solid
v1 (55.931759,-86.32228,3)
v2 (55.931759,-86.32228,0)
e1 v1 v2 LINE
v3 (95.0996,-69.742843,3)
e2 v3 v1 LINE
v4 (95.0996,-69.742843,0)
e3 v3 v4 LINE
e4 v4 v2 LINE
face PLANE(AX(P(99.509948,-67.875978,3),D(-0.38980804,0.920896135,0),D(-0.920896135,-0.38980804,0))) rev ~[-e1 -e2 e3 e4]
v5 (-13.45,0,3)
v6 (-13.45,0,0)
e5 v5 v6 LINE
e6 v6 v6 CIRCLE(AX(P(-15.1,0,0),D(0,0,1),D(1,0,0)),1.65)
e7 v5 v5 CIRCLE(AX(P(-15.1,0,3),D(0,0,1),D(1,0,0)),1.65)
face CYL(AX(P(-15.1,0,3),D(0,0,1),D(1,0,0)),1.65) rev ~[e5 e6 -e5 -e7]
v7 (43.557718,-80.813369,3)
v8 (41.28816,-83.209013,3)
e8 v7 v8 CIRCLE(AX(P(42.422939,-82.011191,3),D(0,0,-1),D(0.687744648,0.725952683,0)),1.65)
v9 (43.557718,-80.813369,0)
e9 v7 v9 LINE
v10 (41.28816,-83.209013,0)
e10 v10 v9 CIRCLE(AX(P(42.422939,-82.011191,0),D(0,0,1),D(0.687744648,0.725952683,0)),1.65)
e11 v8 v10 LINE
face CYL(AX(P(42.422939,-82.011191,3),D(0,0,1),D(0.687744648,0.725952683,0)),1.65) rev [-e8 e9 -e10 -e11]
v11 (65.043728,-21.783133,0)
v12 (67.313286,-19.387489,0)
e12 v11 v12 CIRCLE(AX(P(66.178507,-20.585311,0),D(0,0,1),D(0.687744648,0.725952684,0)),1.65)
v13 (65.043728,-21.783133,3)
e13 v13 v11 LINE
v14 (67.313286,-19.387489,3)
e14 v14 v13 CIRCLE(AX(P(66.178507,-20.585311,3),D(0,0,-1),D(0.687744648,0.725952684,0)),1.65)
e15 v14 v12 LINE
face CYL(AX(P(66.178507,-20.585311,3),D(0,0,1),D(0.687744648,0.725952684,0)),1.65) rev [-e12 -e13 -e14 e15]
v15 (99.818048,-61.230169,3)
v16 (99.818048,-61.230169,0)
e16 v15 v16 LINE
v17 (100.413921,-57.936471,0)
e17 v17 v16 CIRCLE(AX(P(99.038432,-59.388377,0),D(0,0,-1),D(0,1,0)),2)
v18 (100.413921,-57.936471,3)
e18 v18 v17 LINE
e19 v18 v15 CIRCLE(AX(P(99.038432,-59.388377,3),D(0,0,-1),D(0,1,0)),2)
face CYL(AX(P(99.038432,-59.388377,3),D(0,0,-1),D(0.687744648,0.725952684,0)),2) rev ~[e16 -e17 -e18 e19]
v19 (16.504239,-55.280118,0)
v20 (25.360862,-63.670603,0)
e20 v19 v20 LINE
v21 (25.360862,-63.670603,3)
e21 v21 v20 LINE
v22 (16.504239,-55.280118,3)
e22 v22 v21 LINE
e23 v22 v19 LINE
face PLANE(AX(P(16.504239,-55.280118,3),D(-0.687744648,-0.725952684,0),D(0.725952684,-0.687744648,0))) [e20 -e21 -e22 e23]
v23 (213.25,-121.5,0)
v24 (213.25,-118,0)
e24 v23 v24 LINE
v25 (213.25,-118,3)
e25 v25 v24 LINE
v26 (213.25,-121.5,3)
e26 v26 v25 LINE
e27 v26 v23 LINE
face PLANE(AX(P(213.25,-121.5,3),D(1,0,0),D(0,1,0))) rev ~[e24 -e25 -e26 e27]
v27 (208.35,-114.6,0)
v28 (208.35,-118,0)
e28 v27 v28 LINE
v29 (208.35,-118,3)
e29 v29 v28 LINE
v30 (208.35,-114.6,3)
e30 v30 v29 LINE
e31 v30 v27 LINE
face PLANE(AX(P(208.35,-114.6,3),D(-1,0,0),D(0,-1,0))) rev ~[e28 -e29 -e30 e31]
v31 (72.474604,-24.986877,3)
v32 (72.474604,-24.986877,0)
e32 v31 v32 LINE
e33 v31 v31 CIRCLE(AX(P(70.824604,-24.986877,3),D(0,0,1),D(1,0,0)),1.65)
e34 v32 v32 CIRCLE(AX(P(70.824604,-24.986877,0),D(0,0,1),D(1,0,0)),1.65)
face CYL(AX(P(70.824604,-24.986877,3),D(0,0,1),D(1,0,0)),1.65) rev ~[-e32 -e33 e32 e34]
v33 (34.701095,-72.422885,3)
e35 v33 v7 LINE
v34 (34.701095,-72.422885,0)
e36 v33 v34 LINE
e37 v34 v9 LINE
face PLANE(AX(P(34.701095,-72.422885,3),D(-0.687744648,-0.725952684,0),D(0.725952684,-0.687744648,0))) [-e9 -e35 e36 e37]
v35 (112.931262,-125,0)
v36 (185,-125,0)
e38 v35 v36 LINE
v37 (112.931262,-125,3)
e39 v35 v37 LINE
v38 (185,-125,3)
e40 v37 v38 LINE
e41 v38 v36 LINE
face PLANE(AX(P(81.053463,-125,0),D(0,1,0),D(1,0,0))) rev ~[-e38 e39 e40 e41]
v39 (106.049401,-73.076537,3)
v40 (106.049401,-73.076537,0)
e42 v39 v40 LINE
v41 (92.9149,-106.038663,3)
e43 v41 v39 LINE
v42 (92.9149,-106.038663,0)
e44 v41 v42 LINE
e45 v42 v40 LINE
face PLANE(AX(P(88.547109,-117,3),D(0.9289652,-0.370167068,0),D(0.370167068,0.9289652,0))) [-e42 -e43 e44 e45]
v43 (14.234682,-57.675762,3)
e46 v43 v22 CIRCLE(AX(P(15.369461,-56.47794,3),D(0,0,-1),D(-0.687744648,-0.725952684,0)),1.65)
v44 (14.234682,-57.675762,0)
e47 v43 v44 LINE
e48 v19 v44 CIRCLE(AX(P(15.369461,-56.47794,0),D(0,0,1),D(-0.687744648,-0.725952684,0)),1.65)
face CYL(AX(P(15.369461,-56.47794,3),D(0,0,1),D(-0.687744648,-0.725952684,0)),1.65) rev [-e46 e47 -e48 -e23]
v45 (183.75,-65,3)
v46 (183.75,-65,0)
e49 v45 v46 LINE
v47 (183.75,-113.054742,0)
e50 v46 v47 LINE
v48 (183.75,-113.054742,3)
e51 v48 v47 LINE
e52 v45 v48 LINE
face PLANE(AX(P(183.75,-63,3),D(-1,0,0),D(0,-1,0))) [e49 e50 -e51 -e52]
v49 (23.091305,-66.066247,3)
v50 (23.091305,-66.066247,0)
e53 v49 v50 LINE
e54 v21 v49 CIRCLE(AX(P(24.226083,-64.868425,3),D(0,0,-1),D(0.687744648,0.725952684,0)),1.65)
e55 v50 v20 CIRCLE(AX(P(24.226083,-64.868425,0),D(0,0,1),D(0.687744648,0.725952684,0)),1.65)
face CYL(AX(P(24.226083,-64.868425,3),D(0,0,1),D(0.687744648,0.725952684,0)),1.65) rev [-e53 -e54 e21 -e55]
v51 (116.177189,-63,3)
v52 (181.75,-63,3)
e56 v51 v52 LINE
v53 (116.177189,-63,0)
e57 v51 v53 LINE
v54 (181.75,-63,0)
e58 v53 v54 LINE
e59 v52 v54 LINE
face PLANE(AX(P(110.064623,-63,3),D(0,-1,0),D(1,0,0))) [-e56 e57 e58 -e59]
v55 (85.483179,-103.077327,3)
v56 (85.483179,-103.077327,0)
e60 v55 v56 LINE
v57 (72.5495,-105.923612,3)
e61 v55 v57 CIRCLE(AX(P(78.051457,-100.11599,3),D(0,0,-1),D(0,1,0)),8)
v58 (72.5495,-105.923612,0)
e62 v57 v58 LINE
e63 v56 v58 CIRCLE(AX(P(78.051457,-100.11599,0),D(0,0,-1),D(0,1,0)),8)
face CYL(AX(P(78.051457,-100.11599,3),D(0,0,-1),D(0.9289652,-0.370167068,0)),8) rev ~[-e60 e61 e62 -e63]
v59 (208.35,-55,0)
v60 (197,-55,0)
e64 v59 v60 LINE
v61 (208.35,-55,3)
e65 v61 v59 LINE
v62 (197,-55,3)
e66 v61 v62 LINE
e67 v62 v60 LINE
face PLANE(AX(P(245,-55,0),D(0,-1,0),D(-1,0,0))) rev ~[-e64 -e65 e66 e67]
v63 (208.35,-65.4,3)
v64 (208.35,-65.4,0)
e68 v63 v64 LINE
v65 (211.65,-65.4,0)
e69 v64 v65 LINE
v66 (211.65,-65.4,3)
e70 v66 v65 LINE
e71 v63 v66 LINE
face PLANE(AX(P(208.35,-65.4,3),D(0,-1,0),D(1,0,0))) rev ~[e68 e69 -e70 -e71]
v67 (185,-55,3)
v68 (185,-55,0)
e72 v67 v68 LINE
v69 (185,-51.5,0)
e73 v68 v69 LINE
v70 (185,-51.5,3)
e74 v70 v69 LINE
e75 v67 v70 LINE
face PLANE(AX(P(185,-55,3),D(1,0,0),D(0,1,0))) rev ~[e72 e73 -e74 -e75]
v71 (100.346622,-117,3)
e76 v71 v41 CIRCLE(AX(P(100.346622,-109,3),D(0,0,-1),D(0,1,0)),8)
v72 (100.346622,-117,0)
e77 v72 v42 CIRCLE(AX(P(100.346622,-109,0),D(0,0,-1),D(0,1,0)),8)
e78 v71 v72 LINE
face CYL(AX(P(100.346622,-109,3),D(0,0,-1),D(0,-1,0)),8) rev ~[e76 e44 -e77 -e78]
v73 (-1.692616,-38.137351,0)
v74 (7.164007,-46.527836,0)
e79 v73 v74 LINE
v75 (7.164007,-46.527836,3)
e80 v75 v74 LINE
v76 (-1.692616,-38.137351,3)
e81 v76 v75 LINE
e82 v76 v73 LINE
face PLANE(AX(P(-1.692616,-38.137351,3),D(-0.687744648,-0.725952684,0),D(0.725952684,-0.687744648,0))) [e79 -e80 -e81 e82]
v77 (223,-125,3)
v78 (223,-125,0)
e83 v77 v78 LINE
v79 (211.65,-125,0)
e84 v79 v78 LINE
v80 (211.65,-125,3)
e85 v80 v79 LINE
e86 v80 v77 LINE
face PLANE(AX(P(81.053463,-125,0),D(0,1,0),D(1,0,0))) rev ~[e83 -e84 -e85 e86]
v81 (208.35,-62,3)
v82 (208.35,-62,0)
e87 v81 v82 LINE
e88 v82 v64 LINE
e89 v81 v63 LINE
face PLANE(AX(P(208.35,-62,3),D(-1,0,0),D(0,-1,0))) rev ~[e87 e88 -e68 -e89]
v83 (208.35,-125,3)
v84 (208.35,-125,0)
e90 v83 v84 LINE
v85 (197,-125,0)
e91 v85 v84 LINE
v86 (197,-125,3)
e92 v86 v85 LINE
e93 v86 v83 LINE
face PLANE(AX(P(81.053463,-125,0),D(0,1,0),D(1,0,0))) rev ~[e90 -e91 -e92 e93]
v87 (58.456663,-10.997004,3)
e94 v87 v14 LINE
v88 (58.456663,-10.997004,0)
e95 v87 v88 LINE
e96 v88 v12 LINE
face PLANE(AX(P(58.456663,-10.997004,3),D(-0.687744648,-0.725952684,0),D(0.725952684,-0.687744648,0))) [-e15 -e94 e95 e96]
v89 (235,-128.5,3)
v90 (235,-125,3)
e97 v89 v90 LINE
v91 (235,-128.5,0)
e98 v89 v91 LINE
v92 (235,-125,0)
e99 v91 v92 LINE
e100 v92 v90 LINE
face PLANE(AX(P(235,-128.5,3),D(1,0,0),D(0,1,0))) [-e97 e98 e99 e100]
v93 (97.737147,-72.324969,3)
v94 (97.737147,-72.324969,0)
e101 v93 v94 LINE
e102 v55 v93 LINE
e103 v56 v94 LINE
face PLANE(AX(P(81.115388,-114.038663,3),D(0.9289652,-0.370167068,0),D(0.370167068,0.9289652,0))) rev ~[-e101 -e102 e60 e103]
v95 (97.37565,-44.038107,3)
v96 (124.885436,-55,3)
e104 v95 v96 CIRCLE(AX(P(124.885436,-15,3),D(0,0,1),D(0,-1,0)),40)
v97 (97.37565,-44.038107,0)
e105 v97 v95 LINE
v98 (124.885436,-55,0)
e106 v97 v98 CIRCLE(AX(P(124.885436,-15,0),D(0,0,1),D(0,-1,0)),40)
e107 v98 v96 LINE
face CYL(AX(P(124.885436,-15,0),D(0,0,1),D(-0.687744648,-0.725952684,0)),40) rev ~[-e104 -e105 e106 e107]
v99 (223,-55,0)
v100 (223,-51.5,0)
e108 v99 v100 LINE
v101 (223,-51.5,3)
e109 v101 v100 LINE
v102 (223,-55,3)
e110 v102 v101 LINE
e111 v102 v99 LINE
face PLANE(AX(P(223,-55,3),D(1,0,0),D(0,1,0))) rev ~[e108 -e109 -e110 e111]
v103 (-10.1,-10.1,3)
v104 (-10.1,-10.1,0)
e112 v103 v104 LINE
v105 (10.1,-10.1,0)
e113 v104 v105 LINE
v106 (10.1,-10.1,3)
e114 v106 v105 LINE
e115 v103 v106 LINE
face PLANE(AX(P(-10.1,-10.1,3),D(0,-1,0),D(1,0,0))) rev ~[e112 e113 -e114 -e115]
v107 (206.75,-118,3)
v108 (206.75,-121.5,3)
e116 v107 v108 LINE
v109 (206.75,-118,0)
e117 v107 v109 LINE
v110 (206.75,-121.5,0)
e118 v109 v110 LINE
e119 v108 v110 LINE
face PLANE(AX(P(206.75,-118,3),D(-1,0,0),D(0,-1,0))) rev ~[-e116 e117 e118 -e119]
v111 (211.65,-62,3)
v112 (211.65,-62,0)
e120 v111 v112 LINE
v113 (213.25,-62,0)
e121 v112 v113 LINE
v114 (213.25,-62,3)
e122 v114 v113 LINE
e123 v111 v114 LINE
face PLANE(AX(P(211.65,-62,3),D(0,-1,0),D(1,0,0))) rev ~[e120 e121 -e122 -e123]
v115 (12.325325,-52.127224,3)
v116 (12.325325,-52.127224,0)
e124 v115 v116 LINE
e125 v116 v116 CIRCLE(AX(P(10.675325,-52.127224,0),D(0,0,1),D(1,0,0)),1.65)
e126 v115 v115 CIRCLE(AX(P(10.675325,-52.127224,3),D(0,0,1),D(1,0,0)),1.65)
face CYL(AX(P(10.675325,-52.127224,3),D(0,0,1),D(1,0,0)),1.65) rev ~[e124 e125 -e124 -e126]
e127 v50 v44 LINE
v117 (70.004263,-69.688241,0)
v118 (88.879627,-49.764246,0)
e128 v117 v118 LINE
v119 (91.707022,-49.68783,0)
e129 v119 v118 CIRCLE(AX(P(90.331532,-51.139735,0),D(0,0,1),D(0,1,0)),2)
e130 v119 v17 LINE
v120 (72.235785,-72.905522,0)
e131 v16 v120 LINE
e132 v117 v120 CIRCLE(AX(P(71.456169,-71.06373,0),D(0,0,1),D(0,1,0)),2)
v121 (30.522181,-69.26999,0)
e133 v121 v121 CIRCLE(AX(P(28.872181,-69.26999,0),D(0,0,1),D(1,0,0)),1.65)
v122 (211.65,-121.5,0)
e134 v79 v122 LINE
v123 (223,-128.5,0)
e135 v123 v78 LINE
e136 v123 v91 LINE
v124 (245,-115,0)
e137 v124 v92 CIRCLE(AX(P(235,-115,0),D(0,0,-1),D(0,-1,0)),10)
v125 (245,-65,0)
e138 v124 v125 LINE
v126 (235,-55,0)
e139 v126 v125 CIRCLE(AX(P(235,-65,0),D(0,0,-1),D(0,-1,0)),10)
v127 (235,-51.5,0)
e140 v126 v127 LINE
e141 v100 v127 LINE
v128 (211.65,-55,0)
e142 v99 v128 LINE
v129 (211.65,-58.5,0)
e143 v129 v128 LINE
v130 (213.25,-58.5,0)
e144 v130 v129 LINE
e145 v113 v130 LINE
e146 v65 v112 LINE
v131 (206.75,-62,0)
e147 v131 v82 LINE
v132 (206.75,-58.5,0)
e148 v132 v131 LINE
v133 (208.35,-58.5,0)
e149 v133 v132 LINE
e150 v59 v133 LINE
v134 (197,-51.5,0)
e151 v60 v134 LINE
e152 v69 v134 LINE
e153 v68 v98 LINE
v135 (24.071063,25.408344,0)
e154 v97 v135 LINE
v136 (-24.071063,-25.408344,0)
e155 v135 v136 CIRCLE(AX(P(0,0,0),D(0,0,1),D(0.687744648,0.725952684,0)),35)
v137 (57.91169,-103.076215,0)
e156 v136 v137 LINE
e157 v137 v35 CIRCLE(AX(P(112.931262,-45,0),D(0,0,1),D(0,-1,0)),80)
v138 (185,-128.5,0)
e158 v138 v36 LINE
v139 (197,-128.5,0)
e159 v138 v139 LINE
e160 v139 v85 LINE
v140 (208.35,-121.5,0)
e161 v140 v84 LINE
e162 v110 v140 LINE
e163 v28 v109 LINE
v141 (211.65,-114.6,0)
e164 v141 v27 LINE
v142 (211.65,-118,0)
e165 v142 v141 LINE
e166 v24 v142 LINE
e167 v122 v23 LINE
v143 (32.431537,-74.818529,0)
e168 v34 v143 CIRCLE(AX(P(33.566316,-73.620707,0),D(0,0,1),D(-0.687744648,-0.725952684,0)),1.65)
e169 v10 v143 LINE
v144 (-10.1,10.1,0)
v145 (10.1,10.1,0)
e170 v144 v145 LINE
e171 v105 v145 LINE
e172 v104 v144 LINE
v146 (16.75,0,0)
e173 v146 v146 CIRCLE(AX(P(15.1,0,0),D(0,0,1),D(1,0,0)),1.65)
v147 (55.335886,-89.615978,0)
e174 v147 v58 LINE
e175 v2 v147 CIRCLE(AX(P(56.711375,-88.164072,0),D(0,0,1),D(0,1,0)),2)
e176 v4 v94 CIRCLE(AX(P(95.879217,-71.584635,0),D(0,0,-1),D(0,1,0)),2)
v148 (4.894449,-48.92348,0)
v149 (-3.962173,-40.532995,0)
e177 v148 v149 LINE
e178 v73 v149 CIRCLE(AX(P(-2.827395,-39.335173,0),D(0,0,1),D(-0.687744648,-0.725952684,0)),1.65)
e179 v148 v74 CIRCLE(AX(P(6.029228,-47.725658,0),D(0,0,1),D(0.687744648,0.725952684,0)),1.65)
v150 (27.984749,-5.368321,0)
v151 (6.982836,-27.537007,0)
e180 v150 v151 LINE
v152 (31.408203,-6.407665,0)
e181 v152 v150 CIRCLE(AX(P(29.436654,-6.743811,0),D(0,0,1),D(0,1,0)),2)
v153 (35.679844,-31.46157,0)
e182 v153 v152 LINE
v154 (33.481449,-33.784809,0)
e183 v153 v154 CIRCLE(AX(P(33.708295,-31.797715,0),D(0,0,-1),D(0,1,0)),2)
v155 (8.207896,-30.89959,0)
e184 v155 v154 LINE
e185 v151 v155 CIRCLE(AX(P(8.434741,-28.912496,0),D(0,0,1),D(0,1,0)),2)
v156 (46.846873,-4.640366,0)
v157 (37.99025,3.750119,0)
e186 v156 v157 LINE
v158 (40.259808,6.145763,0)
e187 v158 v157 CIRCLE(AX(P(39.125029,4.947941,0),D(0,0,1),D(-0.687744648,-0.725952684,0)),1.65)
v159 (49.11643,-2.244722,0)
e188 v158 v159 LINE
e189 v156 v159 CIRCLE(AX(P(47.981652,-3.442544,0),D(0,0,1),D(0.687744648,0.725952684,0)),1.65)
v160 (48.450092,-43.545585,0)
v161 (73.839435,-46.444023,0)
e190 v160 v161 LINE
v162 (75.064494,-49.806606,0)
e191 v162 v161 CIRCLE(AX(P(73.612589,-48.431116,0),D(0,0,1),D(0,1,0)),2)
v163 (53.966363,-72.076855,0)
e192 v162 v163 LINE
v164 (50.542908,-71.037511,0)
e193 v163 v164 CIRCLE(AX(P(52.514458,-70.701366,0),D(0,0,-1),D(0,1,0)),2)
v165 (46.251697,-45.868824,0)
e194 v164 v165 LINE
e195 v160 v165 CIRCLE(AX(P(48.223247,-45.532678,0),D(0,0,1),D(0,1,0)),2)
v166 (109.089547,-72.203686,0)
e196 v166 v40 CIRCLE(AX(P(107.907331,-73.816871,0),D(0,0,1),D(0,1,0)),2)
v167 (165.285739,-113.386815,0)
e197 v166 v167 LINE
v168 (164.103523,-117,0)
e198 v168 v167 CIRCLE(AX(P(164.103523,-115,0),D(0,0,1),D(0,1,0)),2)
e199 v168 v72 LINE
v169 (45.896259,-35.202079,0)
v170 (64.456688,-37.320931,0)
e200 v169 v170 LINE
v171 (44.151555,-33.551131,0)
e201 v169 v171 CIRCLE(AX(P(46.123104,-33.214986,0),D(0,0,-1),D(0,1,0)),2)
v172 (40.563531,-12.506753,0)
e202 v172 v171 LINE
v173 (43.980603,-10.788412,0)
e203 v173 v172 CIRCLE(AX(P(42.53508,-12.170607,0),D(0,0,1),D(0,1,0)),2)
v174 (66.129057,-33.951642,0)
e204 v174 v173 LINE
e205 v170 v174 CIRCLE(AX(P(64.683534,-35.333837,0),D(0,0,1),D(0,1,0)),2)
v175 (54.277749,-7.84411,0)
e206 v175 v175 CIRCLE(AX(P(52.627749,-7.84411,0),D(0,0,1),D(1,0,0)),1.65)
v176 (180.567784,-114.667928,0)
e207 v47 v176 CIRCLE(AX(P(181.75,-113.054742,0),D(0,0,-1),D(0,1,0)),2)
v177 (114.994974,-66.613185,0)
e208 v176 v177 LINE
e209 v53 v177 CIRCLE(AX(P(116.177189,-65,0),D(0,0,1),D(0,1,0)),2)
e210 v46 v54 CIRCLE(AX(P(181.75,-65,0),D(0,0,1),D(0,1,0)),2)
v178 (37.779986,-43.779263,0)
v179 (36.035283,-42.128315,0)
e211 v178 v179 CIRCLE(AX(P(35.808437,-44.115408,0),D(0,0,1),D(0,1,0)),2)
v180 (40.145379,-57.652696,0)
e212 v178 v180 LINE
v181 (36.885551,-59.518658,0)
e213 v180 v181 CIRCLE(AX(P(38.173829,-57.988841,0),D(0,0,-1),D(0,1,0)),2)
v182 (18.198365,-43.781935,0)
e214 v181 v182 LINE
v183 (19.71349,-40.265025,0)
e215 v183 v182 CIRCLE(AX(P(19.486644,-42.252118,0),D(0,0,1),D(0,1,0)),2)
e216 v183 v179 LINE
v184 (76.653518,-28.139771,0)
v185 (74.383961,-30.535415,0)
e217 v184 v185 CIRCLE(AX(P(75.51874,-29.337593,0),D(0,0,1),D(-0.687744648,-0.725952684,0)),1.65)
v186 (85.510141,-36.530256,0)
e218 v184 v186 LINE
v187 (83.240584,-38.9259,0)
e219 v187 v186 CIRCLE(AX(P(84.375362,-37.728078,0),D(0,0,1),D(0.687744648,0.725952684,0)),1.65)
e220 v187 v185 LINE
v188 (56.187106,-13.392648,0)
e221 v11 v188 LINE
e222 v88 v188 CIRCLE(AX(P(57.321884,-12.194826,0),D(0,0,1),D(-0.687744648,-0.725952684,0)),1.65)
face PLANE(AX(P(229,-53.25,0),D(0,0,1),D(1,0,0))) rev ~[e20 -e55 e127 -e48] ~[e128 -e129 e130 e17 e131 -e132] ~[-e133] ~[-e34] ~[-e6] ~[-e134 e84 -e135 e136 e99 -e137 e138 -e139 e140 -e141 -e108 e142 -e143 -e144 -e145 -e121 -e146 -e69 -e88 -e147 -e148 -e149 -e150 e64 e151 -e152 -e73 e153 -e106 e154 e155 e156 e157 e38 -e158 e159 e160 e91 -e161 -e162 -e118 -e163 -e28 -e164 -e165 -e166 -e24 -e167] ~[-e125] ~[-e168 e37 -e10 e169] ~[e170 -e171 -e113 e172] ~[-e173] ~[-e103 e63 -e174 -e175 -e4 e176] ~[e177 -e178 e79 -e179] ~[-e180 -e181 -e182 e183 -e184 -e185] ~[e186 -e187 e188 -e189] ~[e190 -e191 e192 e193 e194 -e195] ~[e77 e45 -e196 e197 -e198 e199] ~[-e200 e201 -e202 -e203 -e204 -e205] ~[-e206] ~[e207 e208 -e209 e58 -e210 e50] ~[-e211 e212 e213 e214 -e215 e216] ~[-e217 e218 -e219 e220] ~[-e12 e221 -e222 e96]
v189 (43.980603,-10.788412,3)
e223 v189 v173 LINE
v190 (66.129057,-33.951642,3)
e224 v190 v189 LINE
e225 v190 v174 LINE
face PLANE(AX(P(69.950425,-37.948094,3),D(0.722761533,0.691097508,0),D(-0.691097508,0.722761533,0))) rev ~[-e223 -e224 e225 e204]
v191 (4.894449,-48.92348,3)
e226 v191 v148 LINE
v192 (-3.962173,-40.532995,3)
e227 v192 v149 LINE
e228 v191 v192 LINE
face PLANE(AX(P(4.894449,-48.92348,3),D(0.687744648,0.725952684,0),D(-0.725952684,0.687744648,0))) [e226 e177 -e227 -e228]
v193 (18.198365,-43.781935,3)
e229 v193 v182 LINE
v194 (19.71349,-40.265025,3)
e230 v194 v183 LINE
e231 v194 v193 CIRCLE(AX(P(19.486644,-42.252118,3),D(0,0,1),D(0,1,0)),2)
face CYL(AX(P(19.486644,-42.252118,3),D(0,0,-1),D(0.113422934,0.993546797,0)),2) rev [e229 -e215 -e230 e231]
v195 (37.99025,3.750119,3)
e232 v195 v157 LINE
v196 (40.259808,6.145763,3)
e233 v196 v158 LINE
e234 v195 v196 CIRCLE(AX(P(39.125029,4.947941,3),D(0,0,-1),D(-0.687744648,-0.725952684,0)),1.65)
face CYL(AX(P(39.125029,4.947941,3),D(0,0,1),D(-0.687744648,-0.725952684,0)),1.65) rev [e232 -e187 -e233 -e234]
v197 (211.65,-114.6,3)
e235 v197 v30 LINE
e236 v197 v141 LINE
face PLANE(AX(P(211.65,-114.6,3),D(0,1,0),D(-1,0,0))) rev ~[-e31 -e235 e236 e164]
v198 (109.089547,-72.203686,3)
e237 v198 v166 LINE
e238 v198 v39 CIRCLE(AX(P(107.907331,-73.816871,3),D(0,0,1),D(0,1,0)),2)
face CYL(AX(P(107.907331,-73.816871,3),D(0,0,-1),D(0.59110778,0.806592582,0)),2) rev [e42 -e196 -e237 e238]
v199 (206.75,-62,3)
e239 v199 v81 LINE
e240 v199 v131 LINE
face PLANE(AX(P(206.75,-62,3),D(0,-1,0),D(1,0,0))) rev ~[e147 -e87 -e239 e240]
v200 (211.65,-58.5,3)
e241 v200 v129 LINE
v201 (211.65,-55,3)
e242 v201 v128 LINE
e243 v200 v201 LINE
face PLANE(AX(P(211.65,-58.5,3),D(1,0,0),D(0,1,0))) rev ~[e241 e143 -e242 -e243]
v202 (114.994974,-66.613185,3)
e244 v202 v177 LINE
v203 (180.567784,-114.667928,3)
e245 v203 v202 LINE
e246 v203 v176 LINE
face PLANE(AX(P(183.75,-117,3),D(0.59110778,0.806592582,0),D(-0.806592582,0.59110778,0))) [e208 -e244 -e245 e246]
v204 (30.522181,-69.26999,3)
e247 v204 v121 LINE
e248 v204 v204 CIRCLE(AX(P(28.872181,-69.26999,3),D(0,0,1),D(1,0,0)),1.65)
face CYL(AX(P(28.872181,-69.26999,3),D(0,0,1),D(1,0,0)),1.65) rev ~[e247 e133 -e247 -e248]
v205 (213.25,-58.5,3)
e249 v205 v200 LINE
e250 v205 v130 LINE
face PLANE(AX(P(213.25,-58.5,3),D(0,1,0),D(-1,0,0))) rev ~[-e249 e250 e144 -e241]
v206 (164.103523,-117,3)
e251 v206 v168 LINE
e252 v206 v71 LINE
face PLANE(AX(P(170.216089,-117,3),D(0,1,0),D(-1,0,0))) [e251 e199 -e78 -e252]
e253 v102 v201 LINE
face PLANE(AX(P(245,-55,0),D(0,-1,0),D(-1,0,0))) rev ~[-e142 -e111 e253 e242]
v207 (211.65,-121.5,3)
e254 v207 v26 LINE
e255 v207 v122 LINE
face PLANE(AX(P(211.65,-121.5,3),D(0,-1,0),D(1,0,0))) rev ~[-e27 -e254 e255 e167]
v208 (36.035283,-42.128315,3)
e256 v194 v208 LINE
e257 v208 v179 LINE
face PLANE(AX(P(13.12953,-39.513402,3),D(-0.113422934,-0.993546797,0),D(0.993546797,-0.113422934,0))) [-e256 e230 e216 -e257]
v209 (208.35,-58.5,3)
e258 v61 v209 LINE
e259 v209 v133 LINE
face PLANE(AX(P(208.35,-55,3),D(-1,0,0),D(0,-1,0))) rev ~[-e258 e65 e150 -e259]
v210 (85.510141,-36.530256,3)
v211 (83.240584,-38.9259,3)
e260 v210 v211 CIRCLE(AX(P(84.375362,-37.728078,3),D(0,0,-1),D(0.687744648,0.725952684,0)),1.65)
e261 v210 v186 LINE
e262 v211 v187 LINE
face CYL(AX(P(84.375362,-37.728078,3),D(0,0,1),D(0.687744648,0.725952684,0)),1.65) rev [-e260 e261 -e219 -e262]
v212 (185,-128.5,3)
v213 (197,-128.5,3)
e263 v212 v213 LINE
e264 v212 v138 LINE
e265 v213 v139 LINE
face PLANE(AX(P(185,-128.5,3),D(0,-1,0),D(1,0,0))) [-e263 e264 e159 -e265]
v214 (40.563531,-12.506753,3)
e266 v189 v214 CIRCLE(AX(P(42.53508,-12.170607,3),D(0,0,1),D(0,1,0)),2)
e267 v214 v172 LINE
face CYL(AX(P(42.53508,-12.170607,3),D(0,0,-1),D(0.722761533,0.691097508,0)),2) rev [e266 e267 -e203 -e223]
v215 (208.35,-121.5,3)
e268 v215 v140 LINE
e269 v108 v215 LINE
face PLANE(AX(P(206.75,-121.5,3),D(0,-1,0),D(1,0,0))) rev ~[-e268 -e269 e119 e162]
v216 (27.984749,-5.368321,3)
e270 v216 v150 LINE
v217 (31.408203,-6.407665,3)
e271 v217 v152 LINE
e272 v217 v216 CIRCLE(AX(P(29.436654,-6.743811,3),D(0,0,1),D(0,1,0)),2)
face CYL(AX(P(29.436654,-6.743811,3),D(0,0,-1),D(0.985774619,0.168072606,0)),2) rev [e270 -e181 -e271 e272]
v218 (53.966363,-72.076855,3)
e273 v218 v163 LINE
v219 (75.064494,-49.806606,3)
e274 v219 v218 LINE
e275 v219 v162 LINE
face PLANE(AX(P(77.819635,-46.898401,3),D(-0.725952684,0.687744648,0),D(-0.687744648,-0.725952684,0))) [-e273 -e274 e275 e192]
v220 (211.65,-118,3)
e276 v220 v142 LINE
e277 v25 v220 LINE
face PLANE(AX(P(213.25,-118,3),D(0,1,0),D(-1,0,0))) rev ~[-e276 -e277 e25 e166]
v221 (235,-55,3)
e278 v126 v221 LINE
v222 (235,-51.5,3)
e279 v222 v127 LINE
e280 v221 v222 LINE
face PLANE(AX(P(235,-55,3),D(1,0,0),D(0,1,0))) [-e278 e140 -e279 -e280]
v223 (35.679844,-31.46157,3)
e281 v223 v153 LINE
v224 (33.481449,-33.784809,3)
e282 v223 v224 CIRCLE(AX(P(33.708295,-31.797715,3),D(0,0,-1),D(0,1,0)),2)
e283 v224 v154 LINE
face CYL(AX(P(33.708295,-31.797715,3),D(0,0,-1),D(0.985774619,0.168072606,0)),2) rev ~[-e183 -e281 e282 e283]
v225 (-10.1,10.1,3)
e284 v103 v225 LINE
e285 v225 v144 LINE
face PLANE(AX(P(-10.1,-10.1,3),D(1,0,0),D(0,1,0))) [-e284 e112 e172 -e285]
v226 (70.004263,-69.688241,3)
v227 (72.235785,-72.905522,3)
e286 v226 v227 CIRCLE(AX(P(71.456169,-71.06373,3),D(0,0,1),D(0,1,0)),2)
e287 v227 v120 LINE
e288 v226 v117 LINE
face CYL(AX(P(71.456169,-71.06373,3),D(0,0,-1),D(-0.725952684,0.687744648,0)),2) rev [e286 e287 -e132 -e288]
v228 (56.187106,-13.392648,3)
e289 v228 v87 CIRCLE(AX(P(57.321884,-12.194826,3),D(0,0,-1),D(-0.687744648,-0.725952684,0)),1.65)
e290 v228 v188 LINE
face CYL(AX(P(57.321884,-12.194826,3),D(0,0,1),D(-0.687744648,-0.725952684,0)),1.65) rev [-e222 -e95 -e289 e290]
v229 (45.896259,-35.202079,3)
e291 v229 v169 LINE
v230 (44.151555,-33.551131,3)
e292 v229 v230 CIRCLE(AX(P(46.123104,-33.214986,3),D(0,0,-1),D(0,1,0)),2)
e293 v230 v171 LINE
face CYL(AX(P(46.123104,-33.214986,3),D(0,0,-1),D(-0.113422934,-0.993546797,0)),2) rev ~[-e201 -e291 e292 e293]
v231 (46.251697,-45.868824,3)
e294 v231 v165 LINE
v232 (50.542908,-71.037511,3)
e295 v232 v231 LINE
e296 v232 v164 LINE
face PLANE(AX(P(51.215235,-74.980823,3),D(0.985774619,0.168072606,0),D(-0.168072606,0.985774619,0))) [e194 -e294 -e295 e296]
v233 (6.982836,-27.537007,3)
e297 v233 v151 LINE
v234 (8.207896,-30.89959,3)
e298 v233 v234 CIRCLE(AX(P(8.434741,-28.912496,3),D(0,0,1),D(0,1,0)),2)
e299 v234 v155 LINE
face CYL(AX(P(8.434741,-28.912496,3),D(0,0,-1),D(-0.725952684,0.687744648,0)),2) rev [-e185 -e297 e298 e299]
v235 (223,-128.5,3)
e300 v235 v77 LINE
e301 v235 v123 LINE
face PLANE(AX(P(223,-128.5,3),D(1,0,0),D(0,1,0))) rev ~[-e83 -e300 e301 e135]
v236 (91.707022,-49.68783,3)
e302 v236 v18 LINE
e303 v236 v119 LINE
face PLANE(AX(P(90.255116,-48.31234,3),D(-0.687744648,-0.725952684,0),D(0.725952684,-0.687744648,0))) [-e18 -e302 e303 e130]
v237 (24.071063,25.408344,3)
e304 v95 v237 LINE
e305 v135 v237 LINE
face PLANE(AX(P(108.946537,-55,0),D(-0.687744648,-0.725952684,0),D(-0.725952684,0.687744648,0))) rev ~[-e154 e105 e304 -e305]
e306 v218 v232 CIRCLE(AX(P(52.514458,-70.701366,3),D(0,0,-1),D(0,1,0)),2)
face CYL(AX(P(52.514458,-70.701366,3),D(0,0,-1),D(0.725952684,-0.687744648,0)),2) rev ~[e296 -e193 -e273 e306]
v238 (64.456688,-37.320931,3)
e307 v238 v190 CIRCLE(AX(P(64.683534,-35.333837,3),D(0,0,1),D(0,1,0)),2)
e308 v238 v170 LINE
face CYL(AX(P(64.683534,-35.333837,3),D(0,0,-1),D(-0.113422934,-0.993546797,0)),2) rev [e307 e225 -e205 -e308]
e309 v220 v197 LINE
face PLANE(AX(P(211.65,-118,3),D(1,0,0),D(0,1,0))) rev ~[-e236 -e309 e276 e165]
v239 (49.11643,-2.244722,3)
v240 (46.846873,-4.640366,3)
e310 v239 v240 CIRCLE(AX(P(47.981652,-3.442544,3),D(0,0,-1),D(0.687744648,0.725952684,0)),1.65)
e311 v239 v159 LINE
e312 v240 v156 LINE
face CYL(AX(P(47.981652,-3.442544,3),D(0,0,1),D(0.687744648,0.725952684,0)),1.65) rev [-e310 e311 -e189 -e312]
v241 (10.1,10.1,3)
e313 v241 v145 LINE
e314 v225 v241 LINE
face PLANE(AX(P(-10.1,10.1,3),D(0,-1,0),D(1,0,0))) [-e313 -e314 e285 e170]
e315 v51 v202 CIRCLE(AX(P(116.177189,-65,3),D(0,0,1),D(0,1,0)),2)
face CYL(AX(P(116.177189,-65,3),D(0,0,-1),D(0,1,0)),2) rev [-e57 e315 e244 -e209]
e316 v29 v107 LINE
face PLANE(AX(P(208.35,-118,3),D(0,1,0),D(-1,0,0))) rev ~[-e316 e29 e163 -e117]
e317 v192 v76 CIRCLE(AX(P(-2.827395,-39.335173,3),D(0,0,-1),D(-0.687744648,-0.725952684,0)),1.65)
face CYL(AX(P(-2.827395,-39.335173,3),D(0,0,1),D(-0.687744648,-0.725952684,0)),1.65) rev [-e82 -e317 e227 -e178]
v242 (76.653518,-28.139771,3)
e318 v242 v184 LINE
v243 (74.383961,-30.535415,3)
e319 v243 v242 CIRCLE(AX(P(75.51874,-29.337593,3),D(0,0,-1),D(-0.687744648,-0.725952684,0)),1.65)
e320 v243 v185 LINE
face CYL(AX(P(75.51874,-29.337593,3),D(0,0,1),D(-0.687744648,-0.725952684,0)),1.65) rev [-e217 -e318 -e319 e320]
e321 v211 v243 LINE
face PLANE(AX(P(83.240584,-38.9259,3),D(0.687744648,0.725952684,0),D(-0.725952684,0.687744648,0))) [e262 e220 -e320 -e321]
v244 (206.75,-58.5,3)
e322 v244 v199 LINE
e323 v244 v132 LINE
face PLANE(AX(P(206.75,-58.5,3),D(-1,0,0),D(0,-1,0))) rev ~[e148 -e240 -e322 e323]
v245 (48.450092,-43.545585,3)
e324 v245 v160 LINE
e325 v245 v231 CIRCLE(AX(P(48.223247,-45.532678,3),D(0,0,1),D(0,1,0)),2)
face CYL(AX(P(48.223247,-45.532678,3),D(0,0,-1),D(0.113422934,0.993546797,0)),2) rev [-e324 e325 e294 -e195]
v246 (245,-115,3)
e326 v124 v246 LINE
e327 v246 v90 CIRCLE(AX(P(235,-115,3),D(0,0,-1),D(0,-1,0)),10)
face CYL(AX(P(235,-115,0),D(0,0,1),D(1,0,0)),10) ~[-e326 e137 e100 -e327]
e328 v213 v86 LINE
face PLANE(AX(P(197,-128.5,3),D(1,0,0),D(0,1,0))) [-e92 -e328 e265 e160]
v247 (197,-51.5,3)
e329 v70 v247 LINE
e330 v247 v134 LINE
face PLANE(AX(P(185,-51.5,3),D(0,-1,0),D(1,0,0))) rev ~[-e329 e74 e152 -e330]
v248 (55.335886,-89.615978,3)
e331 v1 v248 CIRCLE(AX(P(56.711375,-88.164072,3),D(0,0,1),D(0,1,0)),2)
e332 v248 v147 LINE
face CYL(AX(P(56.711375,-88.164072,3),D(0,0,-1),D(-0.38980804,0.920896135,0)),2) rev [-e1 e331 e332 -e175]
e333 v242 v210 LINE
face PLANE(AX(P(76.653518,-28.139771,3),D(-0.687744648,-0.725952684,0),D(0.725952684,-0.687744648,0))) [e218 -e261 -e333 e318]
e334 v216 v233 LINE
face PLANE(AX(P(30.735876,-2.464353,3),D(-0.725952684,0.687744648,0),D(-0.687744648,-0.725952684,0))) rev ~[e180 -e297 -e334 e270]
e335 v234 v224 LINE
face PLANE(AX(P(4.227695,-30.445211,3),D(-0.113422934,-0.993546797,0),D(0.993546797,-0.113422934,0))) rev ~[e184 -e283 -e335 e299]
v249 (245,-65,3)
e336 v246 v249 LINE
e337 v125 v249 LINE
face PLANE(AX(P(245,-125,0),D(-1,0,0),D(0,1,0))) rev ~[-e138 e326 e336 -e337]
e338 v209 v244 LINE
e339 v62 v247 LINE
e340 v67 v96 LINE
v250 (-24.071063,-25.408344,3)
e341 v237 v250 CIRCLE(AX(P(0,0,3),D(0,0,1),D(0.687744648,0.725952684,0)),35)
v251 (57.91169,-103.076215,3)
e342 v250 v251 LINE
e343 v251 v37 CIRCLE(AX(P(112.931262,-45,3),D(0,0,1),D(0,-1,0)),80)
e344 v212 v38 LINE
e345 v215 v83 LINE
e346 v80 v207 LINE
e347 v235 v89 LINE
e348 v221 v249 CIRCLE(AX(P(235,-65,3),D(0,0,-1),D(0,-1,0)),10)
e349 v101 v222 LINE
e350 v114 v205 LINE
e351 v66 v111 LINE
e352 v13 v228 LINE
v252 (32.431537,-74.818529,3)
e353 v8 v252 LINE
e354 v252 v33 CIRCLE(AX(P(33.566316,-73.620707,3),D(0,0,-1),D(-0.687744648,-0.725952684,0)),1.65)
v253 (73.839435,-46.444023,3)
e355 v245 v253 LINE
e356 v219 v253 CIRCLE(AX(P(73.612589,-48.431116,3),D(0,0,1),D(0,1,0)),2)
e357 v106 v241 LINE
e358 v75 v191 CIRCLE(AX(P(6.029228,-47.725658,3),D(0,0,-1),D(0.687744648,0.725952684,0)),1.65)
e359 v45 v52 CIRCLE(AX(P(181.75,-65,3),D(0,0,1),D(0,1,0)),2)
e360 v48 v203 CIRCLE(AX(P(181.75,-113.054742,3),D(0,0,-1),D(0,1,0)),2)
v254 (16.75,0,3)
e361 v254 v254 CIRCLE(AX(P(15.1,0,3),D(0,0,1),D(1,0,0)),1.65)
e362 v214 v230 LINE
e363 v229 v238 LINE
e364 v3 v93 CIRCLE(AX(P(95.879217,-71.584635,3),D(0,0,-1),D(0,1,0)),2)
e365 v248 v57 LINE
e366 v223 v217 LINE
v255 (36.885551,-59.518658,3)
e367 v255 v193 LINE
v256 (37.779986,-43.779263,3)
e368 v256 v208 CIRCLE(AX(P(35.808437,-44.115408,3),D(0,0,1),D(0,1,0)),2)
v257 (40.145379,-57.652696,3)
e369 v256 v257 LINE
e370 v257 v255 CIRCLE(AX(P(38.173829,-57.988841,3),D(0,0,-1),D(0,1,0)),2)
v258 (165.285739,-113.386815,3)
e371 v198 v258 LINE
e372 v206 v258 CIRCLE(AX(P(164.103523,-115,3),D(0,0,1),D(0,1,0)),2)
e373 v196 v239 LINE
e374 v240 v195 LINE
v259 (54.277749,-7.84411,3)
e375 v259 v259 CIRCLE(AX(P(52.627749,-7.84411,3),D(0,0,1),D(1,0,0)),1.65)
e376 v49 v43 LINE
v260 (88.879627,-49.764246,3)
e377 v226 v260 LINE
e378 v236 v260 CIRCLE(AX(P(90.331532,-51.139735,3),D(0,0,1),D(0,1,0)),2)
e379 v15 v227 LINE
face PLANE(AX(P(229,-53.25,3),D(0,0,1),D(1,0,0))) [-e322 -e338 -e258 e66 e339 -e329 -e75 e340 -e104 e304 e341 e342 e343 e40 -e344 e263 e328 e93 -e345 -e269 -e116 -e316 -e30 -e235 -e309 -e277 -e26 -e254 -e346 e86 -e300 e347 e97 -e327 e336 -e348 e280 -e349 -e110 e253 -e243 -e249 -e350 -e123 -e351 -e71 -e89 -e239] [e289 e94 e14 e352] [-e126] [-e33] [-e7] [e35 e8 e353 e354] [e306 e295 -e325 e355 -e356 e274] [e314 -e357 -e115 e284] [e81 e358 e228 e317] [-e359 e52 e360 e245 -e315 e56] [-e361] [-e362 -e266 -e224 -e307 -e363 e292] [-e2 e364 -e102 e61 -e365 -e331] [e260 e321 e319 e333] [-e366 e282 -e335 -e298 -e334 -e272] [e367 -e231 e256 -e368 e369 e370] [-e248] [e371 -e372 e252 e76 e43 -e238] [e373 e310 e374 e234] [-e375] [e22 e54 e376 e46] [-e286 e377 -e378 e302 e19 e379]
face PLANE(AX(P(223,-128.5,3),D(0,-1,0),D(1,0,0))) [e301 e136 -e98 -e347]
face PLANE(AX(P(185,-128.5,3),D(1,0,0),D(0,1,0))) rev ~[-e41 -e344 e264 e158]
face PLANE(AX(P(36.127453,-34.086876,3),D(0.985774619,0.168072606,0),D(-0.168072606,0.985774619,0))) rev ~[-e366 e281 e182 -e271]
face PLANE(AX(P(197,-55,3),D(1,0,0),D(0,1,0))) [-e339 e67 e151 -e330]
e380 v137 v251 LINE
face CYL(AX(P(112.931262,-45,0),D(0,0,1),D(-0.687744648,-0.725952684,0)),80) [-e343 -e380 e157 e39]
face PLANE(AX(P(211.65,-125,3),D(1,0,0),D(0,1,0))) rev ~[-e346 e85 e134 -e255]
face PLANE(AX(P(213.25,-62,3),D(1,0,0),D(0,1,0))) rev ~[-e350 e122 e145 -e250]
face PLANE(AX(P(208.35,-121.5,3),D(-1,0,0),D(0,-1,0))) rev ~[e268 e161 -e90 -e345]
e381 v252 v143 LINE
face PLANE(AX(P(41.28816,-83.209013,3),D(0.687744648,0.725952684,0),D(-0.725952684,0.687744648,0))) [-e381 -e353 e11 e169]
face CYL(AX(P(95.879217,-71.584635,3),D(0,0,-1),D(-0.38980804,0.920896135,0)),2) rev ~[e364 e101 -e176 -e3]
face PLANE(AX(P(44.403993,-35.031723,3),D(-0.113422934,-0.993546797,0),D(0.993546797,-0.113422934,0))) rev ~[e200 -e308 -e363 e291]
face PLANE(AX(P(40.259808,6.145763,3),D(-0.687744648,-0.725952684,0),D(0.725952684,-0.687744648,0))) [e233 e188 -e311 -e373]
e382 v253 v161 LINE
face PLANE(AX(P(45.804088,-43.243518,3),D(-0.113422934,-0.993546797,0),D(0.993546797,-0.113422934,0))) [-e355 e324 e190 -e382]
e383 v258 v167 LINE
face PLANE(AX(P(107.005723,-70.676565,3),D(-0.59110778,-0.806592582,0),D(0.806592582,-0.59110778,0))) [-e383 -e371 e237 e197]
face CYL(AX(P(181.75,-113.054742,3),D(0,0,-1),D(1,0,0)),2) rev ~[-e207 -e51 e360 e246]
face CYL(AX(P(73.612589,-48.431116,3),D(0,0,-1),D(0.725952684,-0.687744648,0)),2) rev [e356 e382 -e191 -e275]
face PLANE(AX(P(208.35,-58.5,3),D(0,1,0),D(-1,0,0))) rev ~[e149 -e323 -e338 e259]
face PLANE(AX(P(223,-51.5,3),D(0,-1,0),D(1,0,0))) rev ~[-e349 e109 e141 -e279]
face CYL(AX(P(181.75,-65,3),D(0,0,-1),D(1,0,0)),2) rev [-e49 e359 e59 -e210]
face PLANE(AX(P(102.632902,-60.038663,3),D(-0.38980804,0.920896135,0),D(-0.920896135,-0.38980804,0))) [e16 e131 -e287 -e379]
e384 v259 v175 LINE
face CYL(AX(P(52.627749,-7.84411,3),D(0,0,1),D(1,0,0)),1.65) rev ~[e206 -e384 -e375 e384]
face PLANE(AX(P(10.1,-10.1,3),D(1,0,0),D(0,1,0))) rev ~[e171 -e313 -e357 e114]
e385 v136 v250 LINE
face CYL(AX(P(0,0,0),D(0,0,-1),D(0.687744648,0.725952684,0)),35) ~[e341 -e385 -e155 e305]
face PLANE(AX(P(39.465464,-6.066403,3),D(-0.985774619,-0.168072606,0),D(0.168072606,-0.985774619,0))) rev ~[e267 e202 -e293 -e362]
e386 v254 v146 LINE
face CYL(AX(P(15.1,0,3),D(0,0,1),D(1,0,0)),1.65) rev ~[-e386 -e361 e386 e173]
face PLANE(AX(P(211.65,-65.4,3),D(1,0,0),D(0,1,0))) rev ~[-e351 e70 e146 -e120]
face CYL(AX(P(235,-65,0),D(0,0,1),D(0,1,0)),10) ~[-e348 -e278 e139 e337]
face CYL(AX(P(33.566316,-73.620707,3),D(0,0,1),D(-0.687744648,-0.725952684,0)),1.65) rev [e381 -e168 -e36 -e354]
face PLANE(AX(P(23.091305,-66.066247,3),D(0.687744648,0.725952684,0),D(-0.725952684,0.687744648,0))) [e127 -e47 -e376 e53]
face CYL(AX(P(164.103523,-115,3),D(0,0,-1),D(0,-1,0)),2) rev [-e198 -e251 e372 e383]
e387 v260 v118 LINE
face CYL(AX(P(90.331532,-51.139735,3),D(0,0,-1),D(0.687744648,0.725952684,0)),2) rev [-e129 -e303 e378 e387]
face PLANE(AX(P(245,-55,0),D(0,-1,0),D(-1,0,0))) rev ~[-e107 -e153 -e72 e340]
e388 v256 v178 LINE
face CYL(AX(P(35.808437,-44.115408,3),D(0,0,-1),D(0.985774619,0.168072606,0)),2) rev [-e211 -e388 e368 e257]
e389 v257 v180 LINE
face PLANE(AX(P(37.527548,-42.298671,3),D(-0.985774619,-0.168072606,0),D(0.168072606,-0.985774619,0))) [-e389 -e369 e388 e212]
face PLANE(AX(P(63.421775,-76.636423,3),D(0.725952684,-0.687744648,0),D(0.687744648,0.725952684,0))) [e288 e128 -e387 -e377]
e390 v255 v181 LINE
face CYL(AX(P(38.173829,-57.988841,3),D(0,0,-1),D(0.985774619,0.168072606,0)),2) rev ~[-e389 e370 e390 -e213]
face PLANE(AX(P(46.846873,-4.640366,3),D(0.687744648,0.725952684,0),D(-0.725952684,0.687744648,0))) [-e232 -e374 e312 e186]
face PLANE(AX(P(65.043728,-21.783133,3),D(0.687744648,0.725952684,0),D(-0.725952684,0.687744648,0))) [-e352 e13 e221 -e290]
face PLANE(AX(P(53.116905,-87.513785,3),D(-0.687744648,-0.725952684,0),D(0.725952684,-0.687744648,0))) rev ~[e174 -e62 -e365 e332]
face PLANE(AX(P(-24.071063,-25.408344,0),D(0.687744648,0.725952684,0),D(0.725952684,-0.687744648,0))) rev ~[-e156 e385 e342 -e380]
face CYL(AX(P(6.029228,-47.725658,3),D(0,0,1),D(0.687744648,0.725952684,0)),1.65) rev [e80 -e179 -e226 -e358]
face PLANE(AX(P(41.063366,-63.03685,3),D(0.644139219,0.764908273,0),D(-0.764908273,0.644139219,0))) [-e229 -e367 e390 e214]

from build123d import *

# Parameters (mm, degrees)
SKETCH_1_R          = 7.65
EXTRUDE_1_DEPTH     = 3
FILLET_1_R          = 10
SKETCH_3_R          = 1.65
CUT_EXTRUDE_2_DEPTH = 276.061811235
FILLET_2_R          = 40
FILLET_3_R          = 80
SKETCH_4_W          = 12
SKETCH_4_H          = 3.5
EXTRUDE_2_DEPTH     = 3
CUT_EXTRUDE_3_DEPTH = 10
FILLET_4_R          = 2
FILLET_5_R          = 8
SKETCH_6_R          = 1.65
SKETCH_6_W          = 20.2
SKETCH_6_H          = 20.2
CUT_EXTRUDE_4_DEPTH = 277.6699297


with BuildPart() as part:
    # 草图1 → 凸台-拉伸1 (new body)
    with BuildSketch(Plane.XY):
        with BuildLine():
            Line((108.946536832, -55), (24.071062677, 25.408343937))
            ThreePointArc((24.071062677, 25.408343937), (-25.408343937, 24.071062677), (-24.071062677, -25.408343937))
            Line((-24.071062677, -25.408343937), (81.053463168, -125))
            Line((81.053463168, -125), (245, -125))
            Line((245, -125), (245, -55))
            Line((245, -55), (108.946536832, -55))
        make_face()
        Circle(SKETCH_1_R, mode=Mode.SUBTRACT)
    extrude(amount=EXTRUDE_1_DEPTH)

    # 圆角1
    fillet_1_edges = [part.edges().sort_by_distance(p)[0] for p in [
        (245, -55, 1.5),
        (245, -125, 1.5),
    ]]
    fillet(fillet_1_edges, radius=FILLET_1_R)

    # 草图3 → 切除-拉伸2 (cut, through all)
    with BuildSketch(Plane.XY.offset(3)):
        with Locations((10.675325257, -52.127223508)):
            Circle(SKETCH_3_R)
        with Locations((52.62774878, -7.84410979)):
            Circle(SKETCH_3_R)
        with Locations((70.824604166, -24.986876604)):
            Circle(SKETCH_3_R)
        with Locations((28.872180643, -69.269990322)):
            Circle(SKETCH_3_R)
        with BuildLine():
            Line((40.259807528, 6.14576259), (49.116430272, -2.244722115))
            ThreePointArc((49.116430272, -2.244722115), (49.179473531, -4.577322712), (46.846872934, -4.640365972))
            Line((46.846872934, -4.640365972), (37.99025019, 3.750118733))
            ThreePointArc((37.99025019, 3.750118733), (37.92720693, 6.08271933), (40.259807528, 6.14576259))
        make_face()
        with BuildLine():
            Line((16.504239392, -55.280117943), (25.360862135, -63.670602647))
            ThreePointArc((25.360862135, -63.670602647), (25.423905395, -66.003203245), (23.091304797, -66.066246504))
            Line((23.091304797, -66.066246504), (14.234682054, -57.6757618))
            ThreePointArc((14.234682054, -57.6757618), (14.171638794, -55.343161202), (16.504239392, -55.280117943))
        make_face()
        Polygon((208.35, -55), (208.35, -58.5), (206.75, -58.5), (206.75, -62), (208.35, -62), (208.35, -65.4), (211.65, -65.4), (211.65, -62), (213.25, -62), (213.25, -58.5), (211.65, -58.5), (211.65, -55), align=None)
        with BuildLine():
            Line((-1.692615995, -38.137351128), (7.164006749, -46.527835833))
            ThreePointArc((7.164006749, -46.527835833), (7.227050008, -48.86043643), (4.894449411, -48.92347969))
            Line((4.894449411, -48.92347969), (-3.962173333, -40.532994985))
            ThreePointArc((-3.962173333, -40.532994985), (-4.025216592, -38.200394388), (-1.692615995, -38.137351128))
        make_face()
        with BuildLine():
            Line((58.456662914, -10.997004225), (67.313285658, -19.387488929))
            ThreePointArc((67.313285658, -19.387488929), (67.376328917, -21.720089527), (65.04372832, -21.783132786))
            Line((65.04372832, -21.783132786), (56.187105576, -13.392648081))
            ThreePointArc((56.187105576, -13.392648081), (56.124062317, -11.060047484), (58.456662914, -10.997004225))
        make_face()
        with BuildLine():
            Line((34.701094778, -72.422884757), (43.557717522, -80.813369462))
            ThreePointArc((43.557717522, -80.813369462), (43.620760781, -83.145970059), (41.288160183, -83.209013319))
            Line((41.288160183, -83.209013319), (32.43153744, -74.818528614))
            ThreePointArc((32.43153744, -74.818528614), (32.36849418, -72.485928017), (34.701094778, -72.422884757))
        make_face()
        with BuildLine():
            Line((76.6535183, -28.139771039), (85.510141044, -36.530255744))
            ThreePointArc((85.510141044, -36.530255744), (85.573184303, -38.862856341), (83.240583706, -38.9258996))
            Line((83.240583706, -38.9258996), (74.383960962, -30.535414896))
            ThreePointArc((74.383960962, -30.535414896), (74.320917703, -28.202814298), (76.6535183, -28.139771039))
        make_face()
        Polygon((208.35, -125), (211.65, -125), (211.65, -121.5), (213.25, -121.5), (213.25, -118), (211.65, -118), (211.65, -114.6), (208.35, -114.6), (208.35, -118), (206.75, -118), (206.75, -121.5), (208.35, -121.5), align=None)
    extrude(amount=-CUT_EXTRUDE_2_DEPTH, mode=Mode.SUBTRACT)

    # 圆角2
    fillet_2_edges = [part.edges().sort_by_distance(p)[0] for p in [
        (108.946536832, -55, 1.5),
    ]]
    fillet(fillet_2_edges, radius=FILLET_2_R)

    # 圆角3
    fillet_3_edges = [part.edges().sort_by_distance(p)[0] for p in [
        (81.053463168, -125, 1.5),
    ]]
    fillet(fillet_3_edges, radius=FILLET_3_R)

    # 草图4 → 凸台-拉伸2 (add)
    with BuildSketch(Plane.XY.offset(3)):
        with Locations((229, -53.25)):
            Rectangle(SKETCH_4_W, SKETCH_4_H)
        with Locations((191, -53.25)):
            Rectangle(SKETCH_4_W, SKETCH_4_H)
        with Locations((191, -126.75)):
            Rectangle(SKETCH_4_W, SKETCH_4_H)
        with Locations((229, -126.75)):
            Rectangle(SKETCH_4_W, SKETCH_4_H)
    extrude(amount=-EXTRUDE_2_DEPTH)

    # 草图5 → 切除-拉伸3 (cut)
    with BuildSketch(Plane.XY.offset(3)):
        Polygon((36.127453438, -34.086875982), (30.735876382, -2.464353083), (4.227694858, -30.445211358), align=None)
        Polygon((41.063366277, -63.036850208), (13.12952951, -39.513402443), (37.527548139, -42.298671213), align=None)
        Polygon((44.40399322, -35.031722698), (69.950424768, -37.948093861), (39.465464045, -6.066403216), align=None)
        Polygon((51.215235175, -74.980823394), (45.804087921, -43.243517929), (77.819635369, -46.898400967), align=None)
        Polygon((102.632901746, -60.038663458), (63.421774999, -76.636422834), (90.255116273, -48.312340378), align=None)
        Polygon((99.509947592, -67.875977962), (53.116905285, -87.513785309), (81.115387776, -114.038663458), align=None)
        Polygon((88.547109373, -117), (107.005723407, -70.676565087), (170.216089142, -117), align=None)
        Polygon((183.75, -117), (110.064623342, -63), (183.75, -63), align=None)
    extrude(amount=-CUT_EXTRUDE_3_DEPTH, mode=Mode.SUBTRACT)

    # 圆角4
    fillet_4_edges = [part.edges().sort_by_distance(p)[0] for p in [
        (51.215235175, -74.980823394, 1.5),
        (45.804087921, -43.243517929, 1.5),
        (77.819635369, -46.898400967, 1.5),
        (102.632901746, -60.038663458, 1.5),
        (63.421774999, -76.636422834, 1.5),
        (90.255116273, -48.312340378, 1.5),
        (69.950424768, -37.948093861, 1.5),
        (44.40399322, -35.031722698, 1.5),
        (39.465464045, -6.066403216, 1.5),
        (41.063366277, -63.036850208, 1.5),
        (13.12952951, -39.513402443, 1.5),
        (37.527548139, -42.298671213, 1.5),
        (183.75, -117, 1.5),
        (110.064623342, -63, 1.5),
        (183.75, -63, 1.5),
        (53.116905285, -87.513785309, 1.5),
        (99.509947592, -67.875977962, 1.5),
        (107.005723407, -70.676565087, 1.5),
        (170.216089142, -117, 1.5),
        (30.735876382, -2.464353083, 1.5),
        (36.127453438, -34.086875982, 1.5),
        (4.227694858, -30.445211358, 1.5),
    ]]
    fillet(fillet_4_edges, radius=FILLET_4_R)

    # 圆角5
    fillet_5_edges = [part.edges().sort_by_distance(p)[0] for p in [
        (81.115387776, -114.038663458, 1.5),
        (88.547109373, -117, 1.5),
    ]]
    fillet(fillet_5_edges, radius=FILLET_5_R)

    # 草图6 → 切除-拉伸4 (cut, through all)
    with BuildSketch(Plane.XY.offset(3)):
        with Locations((-15.1, 0)):
            Circle(SKETCH_6_R)
        with Locations((15.1, 0)):
            Circle(SKETCH_6_R)
        Rectangle(SKETCH_6_W, SKETCH_6_H)
    extrude(amount=-CUT_EXTRUDE_4_DEPTH, mode=Mode.SUBTRACT)


solid = part.part
